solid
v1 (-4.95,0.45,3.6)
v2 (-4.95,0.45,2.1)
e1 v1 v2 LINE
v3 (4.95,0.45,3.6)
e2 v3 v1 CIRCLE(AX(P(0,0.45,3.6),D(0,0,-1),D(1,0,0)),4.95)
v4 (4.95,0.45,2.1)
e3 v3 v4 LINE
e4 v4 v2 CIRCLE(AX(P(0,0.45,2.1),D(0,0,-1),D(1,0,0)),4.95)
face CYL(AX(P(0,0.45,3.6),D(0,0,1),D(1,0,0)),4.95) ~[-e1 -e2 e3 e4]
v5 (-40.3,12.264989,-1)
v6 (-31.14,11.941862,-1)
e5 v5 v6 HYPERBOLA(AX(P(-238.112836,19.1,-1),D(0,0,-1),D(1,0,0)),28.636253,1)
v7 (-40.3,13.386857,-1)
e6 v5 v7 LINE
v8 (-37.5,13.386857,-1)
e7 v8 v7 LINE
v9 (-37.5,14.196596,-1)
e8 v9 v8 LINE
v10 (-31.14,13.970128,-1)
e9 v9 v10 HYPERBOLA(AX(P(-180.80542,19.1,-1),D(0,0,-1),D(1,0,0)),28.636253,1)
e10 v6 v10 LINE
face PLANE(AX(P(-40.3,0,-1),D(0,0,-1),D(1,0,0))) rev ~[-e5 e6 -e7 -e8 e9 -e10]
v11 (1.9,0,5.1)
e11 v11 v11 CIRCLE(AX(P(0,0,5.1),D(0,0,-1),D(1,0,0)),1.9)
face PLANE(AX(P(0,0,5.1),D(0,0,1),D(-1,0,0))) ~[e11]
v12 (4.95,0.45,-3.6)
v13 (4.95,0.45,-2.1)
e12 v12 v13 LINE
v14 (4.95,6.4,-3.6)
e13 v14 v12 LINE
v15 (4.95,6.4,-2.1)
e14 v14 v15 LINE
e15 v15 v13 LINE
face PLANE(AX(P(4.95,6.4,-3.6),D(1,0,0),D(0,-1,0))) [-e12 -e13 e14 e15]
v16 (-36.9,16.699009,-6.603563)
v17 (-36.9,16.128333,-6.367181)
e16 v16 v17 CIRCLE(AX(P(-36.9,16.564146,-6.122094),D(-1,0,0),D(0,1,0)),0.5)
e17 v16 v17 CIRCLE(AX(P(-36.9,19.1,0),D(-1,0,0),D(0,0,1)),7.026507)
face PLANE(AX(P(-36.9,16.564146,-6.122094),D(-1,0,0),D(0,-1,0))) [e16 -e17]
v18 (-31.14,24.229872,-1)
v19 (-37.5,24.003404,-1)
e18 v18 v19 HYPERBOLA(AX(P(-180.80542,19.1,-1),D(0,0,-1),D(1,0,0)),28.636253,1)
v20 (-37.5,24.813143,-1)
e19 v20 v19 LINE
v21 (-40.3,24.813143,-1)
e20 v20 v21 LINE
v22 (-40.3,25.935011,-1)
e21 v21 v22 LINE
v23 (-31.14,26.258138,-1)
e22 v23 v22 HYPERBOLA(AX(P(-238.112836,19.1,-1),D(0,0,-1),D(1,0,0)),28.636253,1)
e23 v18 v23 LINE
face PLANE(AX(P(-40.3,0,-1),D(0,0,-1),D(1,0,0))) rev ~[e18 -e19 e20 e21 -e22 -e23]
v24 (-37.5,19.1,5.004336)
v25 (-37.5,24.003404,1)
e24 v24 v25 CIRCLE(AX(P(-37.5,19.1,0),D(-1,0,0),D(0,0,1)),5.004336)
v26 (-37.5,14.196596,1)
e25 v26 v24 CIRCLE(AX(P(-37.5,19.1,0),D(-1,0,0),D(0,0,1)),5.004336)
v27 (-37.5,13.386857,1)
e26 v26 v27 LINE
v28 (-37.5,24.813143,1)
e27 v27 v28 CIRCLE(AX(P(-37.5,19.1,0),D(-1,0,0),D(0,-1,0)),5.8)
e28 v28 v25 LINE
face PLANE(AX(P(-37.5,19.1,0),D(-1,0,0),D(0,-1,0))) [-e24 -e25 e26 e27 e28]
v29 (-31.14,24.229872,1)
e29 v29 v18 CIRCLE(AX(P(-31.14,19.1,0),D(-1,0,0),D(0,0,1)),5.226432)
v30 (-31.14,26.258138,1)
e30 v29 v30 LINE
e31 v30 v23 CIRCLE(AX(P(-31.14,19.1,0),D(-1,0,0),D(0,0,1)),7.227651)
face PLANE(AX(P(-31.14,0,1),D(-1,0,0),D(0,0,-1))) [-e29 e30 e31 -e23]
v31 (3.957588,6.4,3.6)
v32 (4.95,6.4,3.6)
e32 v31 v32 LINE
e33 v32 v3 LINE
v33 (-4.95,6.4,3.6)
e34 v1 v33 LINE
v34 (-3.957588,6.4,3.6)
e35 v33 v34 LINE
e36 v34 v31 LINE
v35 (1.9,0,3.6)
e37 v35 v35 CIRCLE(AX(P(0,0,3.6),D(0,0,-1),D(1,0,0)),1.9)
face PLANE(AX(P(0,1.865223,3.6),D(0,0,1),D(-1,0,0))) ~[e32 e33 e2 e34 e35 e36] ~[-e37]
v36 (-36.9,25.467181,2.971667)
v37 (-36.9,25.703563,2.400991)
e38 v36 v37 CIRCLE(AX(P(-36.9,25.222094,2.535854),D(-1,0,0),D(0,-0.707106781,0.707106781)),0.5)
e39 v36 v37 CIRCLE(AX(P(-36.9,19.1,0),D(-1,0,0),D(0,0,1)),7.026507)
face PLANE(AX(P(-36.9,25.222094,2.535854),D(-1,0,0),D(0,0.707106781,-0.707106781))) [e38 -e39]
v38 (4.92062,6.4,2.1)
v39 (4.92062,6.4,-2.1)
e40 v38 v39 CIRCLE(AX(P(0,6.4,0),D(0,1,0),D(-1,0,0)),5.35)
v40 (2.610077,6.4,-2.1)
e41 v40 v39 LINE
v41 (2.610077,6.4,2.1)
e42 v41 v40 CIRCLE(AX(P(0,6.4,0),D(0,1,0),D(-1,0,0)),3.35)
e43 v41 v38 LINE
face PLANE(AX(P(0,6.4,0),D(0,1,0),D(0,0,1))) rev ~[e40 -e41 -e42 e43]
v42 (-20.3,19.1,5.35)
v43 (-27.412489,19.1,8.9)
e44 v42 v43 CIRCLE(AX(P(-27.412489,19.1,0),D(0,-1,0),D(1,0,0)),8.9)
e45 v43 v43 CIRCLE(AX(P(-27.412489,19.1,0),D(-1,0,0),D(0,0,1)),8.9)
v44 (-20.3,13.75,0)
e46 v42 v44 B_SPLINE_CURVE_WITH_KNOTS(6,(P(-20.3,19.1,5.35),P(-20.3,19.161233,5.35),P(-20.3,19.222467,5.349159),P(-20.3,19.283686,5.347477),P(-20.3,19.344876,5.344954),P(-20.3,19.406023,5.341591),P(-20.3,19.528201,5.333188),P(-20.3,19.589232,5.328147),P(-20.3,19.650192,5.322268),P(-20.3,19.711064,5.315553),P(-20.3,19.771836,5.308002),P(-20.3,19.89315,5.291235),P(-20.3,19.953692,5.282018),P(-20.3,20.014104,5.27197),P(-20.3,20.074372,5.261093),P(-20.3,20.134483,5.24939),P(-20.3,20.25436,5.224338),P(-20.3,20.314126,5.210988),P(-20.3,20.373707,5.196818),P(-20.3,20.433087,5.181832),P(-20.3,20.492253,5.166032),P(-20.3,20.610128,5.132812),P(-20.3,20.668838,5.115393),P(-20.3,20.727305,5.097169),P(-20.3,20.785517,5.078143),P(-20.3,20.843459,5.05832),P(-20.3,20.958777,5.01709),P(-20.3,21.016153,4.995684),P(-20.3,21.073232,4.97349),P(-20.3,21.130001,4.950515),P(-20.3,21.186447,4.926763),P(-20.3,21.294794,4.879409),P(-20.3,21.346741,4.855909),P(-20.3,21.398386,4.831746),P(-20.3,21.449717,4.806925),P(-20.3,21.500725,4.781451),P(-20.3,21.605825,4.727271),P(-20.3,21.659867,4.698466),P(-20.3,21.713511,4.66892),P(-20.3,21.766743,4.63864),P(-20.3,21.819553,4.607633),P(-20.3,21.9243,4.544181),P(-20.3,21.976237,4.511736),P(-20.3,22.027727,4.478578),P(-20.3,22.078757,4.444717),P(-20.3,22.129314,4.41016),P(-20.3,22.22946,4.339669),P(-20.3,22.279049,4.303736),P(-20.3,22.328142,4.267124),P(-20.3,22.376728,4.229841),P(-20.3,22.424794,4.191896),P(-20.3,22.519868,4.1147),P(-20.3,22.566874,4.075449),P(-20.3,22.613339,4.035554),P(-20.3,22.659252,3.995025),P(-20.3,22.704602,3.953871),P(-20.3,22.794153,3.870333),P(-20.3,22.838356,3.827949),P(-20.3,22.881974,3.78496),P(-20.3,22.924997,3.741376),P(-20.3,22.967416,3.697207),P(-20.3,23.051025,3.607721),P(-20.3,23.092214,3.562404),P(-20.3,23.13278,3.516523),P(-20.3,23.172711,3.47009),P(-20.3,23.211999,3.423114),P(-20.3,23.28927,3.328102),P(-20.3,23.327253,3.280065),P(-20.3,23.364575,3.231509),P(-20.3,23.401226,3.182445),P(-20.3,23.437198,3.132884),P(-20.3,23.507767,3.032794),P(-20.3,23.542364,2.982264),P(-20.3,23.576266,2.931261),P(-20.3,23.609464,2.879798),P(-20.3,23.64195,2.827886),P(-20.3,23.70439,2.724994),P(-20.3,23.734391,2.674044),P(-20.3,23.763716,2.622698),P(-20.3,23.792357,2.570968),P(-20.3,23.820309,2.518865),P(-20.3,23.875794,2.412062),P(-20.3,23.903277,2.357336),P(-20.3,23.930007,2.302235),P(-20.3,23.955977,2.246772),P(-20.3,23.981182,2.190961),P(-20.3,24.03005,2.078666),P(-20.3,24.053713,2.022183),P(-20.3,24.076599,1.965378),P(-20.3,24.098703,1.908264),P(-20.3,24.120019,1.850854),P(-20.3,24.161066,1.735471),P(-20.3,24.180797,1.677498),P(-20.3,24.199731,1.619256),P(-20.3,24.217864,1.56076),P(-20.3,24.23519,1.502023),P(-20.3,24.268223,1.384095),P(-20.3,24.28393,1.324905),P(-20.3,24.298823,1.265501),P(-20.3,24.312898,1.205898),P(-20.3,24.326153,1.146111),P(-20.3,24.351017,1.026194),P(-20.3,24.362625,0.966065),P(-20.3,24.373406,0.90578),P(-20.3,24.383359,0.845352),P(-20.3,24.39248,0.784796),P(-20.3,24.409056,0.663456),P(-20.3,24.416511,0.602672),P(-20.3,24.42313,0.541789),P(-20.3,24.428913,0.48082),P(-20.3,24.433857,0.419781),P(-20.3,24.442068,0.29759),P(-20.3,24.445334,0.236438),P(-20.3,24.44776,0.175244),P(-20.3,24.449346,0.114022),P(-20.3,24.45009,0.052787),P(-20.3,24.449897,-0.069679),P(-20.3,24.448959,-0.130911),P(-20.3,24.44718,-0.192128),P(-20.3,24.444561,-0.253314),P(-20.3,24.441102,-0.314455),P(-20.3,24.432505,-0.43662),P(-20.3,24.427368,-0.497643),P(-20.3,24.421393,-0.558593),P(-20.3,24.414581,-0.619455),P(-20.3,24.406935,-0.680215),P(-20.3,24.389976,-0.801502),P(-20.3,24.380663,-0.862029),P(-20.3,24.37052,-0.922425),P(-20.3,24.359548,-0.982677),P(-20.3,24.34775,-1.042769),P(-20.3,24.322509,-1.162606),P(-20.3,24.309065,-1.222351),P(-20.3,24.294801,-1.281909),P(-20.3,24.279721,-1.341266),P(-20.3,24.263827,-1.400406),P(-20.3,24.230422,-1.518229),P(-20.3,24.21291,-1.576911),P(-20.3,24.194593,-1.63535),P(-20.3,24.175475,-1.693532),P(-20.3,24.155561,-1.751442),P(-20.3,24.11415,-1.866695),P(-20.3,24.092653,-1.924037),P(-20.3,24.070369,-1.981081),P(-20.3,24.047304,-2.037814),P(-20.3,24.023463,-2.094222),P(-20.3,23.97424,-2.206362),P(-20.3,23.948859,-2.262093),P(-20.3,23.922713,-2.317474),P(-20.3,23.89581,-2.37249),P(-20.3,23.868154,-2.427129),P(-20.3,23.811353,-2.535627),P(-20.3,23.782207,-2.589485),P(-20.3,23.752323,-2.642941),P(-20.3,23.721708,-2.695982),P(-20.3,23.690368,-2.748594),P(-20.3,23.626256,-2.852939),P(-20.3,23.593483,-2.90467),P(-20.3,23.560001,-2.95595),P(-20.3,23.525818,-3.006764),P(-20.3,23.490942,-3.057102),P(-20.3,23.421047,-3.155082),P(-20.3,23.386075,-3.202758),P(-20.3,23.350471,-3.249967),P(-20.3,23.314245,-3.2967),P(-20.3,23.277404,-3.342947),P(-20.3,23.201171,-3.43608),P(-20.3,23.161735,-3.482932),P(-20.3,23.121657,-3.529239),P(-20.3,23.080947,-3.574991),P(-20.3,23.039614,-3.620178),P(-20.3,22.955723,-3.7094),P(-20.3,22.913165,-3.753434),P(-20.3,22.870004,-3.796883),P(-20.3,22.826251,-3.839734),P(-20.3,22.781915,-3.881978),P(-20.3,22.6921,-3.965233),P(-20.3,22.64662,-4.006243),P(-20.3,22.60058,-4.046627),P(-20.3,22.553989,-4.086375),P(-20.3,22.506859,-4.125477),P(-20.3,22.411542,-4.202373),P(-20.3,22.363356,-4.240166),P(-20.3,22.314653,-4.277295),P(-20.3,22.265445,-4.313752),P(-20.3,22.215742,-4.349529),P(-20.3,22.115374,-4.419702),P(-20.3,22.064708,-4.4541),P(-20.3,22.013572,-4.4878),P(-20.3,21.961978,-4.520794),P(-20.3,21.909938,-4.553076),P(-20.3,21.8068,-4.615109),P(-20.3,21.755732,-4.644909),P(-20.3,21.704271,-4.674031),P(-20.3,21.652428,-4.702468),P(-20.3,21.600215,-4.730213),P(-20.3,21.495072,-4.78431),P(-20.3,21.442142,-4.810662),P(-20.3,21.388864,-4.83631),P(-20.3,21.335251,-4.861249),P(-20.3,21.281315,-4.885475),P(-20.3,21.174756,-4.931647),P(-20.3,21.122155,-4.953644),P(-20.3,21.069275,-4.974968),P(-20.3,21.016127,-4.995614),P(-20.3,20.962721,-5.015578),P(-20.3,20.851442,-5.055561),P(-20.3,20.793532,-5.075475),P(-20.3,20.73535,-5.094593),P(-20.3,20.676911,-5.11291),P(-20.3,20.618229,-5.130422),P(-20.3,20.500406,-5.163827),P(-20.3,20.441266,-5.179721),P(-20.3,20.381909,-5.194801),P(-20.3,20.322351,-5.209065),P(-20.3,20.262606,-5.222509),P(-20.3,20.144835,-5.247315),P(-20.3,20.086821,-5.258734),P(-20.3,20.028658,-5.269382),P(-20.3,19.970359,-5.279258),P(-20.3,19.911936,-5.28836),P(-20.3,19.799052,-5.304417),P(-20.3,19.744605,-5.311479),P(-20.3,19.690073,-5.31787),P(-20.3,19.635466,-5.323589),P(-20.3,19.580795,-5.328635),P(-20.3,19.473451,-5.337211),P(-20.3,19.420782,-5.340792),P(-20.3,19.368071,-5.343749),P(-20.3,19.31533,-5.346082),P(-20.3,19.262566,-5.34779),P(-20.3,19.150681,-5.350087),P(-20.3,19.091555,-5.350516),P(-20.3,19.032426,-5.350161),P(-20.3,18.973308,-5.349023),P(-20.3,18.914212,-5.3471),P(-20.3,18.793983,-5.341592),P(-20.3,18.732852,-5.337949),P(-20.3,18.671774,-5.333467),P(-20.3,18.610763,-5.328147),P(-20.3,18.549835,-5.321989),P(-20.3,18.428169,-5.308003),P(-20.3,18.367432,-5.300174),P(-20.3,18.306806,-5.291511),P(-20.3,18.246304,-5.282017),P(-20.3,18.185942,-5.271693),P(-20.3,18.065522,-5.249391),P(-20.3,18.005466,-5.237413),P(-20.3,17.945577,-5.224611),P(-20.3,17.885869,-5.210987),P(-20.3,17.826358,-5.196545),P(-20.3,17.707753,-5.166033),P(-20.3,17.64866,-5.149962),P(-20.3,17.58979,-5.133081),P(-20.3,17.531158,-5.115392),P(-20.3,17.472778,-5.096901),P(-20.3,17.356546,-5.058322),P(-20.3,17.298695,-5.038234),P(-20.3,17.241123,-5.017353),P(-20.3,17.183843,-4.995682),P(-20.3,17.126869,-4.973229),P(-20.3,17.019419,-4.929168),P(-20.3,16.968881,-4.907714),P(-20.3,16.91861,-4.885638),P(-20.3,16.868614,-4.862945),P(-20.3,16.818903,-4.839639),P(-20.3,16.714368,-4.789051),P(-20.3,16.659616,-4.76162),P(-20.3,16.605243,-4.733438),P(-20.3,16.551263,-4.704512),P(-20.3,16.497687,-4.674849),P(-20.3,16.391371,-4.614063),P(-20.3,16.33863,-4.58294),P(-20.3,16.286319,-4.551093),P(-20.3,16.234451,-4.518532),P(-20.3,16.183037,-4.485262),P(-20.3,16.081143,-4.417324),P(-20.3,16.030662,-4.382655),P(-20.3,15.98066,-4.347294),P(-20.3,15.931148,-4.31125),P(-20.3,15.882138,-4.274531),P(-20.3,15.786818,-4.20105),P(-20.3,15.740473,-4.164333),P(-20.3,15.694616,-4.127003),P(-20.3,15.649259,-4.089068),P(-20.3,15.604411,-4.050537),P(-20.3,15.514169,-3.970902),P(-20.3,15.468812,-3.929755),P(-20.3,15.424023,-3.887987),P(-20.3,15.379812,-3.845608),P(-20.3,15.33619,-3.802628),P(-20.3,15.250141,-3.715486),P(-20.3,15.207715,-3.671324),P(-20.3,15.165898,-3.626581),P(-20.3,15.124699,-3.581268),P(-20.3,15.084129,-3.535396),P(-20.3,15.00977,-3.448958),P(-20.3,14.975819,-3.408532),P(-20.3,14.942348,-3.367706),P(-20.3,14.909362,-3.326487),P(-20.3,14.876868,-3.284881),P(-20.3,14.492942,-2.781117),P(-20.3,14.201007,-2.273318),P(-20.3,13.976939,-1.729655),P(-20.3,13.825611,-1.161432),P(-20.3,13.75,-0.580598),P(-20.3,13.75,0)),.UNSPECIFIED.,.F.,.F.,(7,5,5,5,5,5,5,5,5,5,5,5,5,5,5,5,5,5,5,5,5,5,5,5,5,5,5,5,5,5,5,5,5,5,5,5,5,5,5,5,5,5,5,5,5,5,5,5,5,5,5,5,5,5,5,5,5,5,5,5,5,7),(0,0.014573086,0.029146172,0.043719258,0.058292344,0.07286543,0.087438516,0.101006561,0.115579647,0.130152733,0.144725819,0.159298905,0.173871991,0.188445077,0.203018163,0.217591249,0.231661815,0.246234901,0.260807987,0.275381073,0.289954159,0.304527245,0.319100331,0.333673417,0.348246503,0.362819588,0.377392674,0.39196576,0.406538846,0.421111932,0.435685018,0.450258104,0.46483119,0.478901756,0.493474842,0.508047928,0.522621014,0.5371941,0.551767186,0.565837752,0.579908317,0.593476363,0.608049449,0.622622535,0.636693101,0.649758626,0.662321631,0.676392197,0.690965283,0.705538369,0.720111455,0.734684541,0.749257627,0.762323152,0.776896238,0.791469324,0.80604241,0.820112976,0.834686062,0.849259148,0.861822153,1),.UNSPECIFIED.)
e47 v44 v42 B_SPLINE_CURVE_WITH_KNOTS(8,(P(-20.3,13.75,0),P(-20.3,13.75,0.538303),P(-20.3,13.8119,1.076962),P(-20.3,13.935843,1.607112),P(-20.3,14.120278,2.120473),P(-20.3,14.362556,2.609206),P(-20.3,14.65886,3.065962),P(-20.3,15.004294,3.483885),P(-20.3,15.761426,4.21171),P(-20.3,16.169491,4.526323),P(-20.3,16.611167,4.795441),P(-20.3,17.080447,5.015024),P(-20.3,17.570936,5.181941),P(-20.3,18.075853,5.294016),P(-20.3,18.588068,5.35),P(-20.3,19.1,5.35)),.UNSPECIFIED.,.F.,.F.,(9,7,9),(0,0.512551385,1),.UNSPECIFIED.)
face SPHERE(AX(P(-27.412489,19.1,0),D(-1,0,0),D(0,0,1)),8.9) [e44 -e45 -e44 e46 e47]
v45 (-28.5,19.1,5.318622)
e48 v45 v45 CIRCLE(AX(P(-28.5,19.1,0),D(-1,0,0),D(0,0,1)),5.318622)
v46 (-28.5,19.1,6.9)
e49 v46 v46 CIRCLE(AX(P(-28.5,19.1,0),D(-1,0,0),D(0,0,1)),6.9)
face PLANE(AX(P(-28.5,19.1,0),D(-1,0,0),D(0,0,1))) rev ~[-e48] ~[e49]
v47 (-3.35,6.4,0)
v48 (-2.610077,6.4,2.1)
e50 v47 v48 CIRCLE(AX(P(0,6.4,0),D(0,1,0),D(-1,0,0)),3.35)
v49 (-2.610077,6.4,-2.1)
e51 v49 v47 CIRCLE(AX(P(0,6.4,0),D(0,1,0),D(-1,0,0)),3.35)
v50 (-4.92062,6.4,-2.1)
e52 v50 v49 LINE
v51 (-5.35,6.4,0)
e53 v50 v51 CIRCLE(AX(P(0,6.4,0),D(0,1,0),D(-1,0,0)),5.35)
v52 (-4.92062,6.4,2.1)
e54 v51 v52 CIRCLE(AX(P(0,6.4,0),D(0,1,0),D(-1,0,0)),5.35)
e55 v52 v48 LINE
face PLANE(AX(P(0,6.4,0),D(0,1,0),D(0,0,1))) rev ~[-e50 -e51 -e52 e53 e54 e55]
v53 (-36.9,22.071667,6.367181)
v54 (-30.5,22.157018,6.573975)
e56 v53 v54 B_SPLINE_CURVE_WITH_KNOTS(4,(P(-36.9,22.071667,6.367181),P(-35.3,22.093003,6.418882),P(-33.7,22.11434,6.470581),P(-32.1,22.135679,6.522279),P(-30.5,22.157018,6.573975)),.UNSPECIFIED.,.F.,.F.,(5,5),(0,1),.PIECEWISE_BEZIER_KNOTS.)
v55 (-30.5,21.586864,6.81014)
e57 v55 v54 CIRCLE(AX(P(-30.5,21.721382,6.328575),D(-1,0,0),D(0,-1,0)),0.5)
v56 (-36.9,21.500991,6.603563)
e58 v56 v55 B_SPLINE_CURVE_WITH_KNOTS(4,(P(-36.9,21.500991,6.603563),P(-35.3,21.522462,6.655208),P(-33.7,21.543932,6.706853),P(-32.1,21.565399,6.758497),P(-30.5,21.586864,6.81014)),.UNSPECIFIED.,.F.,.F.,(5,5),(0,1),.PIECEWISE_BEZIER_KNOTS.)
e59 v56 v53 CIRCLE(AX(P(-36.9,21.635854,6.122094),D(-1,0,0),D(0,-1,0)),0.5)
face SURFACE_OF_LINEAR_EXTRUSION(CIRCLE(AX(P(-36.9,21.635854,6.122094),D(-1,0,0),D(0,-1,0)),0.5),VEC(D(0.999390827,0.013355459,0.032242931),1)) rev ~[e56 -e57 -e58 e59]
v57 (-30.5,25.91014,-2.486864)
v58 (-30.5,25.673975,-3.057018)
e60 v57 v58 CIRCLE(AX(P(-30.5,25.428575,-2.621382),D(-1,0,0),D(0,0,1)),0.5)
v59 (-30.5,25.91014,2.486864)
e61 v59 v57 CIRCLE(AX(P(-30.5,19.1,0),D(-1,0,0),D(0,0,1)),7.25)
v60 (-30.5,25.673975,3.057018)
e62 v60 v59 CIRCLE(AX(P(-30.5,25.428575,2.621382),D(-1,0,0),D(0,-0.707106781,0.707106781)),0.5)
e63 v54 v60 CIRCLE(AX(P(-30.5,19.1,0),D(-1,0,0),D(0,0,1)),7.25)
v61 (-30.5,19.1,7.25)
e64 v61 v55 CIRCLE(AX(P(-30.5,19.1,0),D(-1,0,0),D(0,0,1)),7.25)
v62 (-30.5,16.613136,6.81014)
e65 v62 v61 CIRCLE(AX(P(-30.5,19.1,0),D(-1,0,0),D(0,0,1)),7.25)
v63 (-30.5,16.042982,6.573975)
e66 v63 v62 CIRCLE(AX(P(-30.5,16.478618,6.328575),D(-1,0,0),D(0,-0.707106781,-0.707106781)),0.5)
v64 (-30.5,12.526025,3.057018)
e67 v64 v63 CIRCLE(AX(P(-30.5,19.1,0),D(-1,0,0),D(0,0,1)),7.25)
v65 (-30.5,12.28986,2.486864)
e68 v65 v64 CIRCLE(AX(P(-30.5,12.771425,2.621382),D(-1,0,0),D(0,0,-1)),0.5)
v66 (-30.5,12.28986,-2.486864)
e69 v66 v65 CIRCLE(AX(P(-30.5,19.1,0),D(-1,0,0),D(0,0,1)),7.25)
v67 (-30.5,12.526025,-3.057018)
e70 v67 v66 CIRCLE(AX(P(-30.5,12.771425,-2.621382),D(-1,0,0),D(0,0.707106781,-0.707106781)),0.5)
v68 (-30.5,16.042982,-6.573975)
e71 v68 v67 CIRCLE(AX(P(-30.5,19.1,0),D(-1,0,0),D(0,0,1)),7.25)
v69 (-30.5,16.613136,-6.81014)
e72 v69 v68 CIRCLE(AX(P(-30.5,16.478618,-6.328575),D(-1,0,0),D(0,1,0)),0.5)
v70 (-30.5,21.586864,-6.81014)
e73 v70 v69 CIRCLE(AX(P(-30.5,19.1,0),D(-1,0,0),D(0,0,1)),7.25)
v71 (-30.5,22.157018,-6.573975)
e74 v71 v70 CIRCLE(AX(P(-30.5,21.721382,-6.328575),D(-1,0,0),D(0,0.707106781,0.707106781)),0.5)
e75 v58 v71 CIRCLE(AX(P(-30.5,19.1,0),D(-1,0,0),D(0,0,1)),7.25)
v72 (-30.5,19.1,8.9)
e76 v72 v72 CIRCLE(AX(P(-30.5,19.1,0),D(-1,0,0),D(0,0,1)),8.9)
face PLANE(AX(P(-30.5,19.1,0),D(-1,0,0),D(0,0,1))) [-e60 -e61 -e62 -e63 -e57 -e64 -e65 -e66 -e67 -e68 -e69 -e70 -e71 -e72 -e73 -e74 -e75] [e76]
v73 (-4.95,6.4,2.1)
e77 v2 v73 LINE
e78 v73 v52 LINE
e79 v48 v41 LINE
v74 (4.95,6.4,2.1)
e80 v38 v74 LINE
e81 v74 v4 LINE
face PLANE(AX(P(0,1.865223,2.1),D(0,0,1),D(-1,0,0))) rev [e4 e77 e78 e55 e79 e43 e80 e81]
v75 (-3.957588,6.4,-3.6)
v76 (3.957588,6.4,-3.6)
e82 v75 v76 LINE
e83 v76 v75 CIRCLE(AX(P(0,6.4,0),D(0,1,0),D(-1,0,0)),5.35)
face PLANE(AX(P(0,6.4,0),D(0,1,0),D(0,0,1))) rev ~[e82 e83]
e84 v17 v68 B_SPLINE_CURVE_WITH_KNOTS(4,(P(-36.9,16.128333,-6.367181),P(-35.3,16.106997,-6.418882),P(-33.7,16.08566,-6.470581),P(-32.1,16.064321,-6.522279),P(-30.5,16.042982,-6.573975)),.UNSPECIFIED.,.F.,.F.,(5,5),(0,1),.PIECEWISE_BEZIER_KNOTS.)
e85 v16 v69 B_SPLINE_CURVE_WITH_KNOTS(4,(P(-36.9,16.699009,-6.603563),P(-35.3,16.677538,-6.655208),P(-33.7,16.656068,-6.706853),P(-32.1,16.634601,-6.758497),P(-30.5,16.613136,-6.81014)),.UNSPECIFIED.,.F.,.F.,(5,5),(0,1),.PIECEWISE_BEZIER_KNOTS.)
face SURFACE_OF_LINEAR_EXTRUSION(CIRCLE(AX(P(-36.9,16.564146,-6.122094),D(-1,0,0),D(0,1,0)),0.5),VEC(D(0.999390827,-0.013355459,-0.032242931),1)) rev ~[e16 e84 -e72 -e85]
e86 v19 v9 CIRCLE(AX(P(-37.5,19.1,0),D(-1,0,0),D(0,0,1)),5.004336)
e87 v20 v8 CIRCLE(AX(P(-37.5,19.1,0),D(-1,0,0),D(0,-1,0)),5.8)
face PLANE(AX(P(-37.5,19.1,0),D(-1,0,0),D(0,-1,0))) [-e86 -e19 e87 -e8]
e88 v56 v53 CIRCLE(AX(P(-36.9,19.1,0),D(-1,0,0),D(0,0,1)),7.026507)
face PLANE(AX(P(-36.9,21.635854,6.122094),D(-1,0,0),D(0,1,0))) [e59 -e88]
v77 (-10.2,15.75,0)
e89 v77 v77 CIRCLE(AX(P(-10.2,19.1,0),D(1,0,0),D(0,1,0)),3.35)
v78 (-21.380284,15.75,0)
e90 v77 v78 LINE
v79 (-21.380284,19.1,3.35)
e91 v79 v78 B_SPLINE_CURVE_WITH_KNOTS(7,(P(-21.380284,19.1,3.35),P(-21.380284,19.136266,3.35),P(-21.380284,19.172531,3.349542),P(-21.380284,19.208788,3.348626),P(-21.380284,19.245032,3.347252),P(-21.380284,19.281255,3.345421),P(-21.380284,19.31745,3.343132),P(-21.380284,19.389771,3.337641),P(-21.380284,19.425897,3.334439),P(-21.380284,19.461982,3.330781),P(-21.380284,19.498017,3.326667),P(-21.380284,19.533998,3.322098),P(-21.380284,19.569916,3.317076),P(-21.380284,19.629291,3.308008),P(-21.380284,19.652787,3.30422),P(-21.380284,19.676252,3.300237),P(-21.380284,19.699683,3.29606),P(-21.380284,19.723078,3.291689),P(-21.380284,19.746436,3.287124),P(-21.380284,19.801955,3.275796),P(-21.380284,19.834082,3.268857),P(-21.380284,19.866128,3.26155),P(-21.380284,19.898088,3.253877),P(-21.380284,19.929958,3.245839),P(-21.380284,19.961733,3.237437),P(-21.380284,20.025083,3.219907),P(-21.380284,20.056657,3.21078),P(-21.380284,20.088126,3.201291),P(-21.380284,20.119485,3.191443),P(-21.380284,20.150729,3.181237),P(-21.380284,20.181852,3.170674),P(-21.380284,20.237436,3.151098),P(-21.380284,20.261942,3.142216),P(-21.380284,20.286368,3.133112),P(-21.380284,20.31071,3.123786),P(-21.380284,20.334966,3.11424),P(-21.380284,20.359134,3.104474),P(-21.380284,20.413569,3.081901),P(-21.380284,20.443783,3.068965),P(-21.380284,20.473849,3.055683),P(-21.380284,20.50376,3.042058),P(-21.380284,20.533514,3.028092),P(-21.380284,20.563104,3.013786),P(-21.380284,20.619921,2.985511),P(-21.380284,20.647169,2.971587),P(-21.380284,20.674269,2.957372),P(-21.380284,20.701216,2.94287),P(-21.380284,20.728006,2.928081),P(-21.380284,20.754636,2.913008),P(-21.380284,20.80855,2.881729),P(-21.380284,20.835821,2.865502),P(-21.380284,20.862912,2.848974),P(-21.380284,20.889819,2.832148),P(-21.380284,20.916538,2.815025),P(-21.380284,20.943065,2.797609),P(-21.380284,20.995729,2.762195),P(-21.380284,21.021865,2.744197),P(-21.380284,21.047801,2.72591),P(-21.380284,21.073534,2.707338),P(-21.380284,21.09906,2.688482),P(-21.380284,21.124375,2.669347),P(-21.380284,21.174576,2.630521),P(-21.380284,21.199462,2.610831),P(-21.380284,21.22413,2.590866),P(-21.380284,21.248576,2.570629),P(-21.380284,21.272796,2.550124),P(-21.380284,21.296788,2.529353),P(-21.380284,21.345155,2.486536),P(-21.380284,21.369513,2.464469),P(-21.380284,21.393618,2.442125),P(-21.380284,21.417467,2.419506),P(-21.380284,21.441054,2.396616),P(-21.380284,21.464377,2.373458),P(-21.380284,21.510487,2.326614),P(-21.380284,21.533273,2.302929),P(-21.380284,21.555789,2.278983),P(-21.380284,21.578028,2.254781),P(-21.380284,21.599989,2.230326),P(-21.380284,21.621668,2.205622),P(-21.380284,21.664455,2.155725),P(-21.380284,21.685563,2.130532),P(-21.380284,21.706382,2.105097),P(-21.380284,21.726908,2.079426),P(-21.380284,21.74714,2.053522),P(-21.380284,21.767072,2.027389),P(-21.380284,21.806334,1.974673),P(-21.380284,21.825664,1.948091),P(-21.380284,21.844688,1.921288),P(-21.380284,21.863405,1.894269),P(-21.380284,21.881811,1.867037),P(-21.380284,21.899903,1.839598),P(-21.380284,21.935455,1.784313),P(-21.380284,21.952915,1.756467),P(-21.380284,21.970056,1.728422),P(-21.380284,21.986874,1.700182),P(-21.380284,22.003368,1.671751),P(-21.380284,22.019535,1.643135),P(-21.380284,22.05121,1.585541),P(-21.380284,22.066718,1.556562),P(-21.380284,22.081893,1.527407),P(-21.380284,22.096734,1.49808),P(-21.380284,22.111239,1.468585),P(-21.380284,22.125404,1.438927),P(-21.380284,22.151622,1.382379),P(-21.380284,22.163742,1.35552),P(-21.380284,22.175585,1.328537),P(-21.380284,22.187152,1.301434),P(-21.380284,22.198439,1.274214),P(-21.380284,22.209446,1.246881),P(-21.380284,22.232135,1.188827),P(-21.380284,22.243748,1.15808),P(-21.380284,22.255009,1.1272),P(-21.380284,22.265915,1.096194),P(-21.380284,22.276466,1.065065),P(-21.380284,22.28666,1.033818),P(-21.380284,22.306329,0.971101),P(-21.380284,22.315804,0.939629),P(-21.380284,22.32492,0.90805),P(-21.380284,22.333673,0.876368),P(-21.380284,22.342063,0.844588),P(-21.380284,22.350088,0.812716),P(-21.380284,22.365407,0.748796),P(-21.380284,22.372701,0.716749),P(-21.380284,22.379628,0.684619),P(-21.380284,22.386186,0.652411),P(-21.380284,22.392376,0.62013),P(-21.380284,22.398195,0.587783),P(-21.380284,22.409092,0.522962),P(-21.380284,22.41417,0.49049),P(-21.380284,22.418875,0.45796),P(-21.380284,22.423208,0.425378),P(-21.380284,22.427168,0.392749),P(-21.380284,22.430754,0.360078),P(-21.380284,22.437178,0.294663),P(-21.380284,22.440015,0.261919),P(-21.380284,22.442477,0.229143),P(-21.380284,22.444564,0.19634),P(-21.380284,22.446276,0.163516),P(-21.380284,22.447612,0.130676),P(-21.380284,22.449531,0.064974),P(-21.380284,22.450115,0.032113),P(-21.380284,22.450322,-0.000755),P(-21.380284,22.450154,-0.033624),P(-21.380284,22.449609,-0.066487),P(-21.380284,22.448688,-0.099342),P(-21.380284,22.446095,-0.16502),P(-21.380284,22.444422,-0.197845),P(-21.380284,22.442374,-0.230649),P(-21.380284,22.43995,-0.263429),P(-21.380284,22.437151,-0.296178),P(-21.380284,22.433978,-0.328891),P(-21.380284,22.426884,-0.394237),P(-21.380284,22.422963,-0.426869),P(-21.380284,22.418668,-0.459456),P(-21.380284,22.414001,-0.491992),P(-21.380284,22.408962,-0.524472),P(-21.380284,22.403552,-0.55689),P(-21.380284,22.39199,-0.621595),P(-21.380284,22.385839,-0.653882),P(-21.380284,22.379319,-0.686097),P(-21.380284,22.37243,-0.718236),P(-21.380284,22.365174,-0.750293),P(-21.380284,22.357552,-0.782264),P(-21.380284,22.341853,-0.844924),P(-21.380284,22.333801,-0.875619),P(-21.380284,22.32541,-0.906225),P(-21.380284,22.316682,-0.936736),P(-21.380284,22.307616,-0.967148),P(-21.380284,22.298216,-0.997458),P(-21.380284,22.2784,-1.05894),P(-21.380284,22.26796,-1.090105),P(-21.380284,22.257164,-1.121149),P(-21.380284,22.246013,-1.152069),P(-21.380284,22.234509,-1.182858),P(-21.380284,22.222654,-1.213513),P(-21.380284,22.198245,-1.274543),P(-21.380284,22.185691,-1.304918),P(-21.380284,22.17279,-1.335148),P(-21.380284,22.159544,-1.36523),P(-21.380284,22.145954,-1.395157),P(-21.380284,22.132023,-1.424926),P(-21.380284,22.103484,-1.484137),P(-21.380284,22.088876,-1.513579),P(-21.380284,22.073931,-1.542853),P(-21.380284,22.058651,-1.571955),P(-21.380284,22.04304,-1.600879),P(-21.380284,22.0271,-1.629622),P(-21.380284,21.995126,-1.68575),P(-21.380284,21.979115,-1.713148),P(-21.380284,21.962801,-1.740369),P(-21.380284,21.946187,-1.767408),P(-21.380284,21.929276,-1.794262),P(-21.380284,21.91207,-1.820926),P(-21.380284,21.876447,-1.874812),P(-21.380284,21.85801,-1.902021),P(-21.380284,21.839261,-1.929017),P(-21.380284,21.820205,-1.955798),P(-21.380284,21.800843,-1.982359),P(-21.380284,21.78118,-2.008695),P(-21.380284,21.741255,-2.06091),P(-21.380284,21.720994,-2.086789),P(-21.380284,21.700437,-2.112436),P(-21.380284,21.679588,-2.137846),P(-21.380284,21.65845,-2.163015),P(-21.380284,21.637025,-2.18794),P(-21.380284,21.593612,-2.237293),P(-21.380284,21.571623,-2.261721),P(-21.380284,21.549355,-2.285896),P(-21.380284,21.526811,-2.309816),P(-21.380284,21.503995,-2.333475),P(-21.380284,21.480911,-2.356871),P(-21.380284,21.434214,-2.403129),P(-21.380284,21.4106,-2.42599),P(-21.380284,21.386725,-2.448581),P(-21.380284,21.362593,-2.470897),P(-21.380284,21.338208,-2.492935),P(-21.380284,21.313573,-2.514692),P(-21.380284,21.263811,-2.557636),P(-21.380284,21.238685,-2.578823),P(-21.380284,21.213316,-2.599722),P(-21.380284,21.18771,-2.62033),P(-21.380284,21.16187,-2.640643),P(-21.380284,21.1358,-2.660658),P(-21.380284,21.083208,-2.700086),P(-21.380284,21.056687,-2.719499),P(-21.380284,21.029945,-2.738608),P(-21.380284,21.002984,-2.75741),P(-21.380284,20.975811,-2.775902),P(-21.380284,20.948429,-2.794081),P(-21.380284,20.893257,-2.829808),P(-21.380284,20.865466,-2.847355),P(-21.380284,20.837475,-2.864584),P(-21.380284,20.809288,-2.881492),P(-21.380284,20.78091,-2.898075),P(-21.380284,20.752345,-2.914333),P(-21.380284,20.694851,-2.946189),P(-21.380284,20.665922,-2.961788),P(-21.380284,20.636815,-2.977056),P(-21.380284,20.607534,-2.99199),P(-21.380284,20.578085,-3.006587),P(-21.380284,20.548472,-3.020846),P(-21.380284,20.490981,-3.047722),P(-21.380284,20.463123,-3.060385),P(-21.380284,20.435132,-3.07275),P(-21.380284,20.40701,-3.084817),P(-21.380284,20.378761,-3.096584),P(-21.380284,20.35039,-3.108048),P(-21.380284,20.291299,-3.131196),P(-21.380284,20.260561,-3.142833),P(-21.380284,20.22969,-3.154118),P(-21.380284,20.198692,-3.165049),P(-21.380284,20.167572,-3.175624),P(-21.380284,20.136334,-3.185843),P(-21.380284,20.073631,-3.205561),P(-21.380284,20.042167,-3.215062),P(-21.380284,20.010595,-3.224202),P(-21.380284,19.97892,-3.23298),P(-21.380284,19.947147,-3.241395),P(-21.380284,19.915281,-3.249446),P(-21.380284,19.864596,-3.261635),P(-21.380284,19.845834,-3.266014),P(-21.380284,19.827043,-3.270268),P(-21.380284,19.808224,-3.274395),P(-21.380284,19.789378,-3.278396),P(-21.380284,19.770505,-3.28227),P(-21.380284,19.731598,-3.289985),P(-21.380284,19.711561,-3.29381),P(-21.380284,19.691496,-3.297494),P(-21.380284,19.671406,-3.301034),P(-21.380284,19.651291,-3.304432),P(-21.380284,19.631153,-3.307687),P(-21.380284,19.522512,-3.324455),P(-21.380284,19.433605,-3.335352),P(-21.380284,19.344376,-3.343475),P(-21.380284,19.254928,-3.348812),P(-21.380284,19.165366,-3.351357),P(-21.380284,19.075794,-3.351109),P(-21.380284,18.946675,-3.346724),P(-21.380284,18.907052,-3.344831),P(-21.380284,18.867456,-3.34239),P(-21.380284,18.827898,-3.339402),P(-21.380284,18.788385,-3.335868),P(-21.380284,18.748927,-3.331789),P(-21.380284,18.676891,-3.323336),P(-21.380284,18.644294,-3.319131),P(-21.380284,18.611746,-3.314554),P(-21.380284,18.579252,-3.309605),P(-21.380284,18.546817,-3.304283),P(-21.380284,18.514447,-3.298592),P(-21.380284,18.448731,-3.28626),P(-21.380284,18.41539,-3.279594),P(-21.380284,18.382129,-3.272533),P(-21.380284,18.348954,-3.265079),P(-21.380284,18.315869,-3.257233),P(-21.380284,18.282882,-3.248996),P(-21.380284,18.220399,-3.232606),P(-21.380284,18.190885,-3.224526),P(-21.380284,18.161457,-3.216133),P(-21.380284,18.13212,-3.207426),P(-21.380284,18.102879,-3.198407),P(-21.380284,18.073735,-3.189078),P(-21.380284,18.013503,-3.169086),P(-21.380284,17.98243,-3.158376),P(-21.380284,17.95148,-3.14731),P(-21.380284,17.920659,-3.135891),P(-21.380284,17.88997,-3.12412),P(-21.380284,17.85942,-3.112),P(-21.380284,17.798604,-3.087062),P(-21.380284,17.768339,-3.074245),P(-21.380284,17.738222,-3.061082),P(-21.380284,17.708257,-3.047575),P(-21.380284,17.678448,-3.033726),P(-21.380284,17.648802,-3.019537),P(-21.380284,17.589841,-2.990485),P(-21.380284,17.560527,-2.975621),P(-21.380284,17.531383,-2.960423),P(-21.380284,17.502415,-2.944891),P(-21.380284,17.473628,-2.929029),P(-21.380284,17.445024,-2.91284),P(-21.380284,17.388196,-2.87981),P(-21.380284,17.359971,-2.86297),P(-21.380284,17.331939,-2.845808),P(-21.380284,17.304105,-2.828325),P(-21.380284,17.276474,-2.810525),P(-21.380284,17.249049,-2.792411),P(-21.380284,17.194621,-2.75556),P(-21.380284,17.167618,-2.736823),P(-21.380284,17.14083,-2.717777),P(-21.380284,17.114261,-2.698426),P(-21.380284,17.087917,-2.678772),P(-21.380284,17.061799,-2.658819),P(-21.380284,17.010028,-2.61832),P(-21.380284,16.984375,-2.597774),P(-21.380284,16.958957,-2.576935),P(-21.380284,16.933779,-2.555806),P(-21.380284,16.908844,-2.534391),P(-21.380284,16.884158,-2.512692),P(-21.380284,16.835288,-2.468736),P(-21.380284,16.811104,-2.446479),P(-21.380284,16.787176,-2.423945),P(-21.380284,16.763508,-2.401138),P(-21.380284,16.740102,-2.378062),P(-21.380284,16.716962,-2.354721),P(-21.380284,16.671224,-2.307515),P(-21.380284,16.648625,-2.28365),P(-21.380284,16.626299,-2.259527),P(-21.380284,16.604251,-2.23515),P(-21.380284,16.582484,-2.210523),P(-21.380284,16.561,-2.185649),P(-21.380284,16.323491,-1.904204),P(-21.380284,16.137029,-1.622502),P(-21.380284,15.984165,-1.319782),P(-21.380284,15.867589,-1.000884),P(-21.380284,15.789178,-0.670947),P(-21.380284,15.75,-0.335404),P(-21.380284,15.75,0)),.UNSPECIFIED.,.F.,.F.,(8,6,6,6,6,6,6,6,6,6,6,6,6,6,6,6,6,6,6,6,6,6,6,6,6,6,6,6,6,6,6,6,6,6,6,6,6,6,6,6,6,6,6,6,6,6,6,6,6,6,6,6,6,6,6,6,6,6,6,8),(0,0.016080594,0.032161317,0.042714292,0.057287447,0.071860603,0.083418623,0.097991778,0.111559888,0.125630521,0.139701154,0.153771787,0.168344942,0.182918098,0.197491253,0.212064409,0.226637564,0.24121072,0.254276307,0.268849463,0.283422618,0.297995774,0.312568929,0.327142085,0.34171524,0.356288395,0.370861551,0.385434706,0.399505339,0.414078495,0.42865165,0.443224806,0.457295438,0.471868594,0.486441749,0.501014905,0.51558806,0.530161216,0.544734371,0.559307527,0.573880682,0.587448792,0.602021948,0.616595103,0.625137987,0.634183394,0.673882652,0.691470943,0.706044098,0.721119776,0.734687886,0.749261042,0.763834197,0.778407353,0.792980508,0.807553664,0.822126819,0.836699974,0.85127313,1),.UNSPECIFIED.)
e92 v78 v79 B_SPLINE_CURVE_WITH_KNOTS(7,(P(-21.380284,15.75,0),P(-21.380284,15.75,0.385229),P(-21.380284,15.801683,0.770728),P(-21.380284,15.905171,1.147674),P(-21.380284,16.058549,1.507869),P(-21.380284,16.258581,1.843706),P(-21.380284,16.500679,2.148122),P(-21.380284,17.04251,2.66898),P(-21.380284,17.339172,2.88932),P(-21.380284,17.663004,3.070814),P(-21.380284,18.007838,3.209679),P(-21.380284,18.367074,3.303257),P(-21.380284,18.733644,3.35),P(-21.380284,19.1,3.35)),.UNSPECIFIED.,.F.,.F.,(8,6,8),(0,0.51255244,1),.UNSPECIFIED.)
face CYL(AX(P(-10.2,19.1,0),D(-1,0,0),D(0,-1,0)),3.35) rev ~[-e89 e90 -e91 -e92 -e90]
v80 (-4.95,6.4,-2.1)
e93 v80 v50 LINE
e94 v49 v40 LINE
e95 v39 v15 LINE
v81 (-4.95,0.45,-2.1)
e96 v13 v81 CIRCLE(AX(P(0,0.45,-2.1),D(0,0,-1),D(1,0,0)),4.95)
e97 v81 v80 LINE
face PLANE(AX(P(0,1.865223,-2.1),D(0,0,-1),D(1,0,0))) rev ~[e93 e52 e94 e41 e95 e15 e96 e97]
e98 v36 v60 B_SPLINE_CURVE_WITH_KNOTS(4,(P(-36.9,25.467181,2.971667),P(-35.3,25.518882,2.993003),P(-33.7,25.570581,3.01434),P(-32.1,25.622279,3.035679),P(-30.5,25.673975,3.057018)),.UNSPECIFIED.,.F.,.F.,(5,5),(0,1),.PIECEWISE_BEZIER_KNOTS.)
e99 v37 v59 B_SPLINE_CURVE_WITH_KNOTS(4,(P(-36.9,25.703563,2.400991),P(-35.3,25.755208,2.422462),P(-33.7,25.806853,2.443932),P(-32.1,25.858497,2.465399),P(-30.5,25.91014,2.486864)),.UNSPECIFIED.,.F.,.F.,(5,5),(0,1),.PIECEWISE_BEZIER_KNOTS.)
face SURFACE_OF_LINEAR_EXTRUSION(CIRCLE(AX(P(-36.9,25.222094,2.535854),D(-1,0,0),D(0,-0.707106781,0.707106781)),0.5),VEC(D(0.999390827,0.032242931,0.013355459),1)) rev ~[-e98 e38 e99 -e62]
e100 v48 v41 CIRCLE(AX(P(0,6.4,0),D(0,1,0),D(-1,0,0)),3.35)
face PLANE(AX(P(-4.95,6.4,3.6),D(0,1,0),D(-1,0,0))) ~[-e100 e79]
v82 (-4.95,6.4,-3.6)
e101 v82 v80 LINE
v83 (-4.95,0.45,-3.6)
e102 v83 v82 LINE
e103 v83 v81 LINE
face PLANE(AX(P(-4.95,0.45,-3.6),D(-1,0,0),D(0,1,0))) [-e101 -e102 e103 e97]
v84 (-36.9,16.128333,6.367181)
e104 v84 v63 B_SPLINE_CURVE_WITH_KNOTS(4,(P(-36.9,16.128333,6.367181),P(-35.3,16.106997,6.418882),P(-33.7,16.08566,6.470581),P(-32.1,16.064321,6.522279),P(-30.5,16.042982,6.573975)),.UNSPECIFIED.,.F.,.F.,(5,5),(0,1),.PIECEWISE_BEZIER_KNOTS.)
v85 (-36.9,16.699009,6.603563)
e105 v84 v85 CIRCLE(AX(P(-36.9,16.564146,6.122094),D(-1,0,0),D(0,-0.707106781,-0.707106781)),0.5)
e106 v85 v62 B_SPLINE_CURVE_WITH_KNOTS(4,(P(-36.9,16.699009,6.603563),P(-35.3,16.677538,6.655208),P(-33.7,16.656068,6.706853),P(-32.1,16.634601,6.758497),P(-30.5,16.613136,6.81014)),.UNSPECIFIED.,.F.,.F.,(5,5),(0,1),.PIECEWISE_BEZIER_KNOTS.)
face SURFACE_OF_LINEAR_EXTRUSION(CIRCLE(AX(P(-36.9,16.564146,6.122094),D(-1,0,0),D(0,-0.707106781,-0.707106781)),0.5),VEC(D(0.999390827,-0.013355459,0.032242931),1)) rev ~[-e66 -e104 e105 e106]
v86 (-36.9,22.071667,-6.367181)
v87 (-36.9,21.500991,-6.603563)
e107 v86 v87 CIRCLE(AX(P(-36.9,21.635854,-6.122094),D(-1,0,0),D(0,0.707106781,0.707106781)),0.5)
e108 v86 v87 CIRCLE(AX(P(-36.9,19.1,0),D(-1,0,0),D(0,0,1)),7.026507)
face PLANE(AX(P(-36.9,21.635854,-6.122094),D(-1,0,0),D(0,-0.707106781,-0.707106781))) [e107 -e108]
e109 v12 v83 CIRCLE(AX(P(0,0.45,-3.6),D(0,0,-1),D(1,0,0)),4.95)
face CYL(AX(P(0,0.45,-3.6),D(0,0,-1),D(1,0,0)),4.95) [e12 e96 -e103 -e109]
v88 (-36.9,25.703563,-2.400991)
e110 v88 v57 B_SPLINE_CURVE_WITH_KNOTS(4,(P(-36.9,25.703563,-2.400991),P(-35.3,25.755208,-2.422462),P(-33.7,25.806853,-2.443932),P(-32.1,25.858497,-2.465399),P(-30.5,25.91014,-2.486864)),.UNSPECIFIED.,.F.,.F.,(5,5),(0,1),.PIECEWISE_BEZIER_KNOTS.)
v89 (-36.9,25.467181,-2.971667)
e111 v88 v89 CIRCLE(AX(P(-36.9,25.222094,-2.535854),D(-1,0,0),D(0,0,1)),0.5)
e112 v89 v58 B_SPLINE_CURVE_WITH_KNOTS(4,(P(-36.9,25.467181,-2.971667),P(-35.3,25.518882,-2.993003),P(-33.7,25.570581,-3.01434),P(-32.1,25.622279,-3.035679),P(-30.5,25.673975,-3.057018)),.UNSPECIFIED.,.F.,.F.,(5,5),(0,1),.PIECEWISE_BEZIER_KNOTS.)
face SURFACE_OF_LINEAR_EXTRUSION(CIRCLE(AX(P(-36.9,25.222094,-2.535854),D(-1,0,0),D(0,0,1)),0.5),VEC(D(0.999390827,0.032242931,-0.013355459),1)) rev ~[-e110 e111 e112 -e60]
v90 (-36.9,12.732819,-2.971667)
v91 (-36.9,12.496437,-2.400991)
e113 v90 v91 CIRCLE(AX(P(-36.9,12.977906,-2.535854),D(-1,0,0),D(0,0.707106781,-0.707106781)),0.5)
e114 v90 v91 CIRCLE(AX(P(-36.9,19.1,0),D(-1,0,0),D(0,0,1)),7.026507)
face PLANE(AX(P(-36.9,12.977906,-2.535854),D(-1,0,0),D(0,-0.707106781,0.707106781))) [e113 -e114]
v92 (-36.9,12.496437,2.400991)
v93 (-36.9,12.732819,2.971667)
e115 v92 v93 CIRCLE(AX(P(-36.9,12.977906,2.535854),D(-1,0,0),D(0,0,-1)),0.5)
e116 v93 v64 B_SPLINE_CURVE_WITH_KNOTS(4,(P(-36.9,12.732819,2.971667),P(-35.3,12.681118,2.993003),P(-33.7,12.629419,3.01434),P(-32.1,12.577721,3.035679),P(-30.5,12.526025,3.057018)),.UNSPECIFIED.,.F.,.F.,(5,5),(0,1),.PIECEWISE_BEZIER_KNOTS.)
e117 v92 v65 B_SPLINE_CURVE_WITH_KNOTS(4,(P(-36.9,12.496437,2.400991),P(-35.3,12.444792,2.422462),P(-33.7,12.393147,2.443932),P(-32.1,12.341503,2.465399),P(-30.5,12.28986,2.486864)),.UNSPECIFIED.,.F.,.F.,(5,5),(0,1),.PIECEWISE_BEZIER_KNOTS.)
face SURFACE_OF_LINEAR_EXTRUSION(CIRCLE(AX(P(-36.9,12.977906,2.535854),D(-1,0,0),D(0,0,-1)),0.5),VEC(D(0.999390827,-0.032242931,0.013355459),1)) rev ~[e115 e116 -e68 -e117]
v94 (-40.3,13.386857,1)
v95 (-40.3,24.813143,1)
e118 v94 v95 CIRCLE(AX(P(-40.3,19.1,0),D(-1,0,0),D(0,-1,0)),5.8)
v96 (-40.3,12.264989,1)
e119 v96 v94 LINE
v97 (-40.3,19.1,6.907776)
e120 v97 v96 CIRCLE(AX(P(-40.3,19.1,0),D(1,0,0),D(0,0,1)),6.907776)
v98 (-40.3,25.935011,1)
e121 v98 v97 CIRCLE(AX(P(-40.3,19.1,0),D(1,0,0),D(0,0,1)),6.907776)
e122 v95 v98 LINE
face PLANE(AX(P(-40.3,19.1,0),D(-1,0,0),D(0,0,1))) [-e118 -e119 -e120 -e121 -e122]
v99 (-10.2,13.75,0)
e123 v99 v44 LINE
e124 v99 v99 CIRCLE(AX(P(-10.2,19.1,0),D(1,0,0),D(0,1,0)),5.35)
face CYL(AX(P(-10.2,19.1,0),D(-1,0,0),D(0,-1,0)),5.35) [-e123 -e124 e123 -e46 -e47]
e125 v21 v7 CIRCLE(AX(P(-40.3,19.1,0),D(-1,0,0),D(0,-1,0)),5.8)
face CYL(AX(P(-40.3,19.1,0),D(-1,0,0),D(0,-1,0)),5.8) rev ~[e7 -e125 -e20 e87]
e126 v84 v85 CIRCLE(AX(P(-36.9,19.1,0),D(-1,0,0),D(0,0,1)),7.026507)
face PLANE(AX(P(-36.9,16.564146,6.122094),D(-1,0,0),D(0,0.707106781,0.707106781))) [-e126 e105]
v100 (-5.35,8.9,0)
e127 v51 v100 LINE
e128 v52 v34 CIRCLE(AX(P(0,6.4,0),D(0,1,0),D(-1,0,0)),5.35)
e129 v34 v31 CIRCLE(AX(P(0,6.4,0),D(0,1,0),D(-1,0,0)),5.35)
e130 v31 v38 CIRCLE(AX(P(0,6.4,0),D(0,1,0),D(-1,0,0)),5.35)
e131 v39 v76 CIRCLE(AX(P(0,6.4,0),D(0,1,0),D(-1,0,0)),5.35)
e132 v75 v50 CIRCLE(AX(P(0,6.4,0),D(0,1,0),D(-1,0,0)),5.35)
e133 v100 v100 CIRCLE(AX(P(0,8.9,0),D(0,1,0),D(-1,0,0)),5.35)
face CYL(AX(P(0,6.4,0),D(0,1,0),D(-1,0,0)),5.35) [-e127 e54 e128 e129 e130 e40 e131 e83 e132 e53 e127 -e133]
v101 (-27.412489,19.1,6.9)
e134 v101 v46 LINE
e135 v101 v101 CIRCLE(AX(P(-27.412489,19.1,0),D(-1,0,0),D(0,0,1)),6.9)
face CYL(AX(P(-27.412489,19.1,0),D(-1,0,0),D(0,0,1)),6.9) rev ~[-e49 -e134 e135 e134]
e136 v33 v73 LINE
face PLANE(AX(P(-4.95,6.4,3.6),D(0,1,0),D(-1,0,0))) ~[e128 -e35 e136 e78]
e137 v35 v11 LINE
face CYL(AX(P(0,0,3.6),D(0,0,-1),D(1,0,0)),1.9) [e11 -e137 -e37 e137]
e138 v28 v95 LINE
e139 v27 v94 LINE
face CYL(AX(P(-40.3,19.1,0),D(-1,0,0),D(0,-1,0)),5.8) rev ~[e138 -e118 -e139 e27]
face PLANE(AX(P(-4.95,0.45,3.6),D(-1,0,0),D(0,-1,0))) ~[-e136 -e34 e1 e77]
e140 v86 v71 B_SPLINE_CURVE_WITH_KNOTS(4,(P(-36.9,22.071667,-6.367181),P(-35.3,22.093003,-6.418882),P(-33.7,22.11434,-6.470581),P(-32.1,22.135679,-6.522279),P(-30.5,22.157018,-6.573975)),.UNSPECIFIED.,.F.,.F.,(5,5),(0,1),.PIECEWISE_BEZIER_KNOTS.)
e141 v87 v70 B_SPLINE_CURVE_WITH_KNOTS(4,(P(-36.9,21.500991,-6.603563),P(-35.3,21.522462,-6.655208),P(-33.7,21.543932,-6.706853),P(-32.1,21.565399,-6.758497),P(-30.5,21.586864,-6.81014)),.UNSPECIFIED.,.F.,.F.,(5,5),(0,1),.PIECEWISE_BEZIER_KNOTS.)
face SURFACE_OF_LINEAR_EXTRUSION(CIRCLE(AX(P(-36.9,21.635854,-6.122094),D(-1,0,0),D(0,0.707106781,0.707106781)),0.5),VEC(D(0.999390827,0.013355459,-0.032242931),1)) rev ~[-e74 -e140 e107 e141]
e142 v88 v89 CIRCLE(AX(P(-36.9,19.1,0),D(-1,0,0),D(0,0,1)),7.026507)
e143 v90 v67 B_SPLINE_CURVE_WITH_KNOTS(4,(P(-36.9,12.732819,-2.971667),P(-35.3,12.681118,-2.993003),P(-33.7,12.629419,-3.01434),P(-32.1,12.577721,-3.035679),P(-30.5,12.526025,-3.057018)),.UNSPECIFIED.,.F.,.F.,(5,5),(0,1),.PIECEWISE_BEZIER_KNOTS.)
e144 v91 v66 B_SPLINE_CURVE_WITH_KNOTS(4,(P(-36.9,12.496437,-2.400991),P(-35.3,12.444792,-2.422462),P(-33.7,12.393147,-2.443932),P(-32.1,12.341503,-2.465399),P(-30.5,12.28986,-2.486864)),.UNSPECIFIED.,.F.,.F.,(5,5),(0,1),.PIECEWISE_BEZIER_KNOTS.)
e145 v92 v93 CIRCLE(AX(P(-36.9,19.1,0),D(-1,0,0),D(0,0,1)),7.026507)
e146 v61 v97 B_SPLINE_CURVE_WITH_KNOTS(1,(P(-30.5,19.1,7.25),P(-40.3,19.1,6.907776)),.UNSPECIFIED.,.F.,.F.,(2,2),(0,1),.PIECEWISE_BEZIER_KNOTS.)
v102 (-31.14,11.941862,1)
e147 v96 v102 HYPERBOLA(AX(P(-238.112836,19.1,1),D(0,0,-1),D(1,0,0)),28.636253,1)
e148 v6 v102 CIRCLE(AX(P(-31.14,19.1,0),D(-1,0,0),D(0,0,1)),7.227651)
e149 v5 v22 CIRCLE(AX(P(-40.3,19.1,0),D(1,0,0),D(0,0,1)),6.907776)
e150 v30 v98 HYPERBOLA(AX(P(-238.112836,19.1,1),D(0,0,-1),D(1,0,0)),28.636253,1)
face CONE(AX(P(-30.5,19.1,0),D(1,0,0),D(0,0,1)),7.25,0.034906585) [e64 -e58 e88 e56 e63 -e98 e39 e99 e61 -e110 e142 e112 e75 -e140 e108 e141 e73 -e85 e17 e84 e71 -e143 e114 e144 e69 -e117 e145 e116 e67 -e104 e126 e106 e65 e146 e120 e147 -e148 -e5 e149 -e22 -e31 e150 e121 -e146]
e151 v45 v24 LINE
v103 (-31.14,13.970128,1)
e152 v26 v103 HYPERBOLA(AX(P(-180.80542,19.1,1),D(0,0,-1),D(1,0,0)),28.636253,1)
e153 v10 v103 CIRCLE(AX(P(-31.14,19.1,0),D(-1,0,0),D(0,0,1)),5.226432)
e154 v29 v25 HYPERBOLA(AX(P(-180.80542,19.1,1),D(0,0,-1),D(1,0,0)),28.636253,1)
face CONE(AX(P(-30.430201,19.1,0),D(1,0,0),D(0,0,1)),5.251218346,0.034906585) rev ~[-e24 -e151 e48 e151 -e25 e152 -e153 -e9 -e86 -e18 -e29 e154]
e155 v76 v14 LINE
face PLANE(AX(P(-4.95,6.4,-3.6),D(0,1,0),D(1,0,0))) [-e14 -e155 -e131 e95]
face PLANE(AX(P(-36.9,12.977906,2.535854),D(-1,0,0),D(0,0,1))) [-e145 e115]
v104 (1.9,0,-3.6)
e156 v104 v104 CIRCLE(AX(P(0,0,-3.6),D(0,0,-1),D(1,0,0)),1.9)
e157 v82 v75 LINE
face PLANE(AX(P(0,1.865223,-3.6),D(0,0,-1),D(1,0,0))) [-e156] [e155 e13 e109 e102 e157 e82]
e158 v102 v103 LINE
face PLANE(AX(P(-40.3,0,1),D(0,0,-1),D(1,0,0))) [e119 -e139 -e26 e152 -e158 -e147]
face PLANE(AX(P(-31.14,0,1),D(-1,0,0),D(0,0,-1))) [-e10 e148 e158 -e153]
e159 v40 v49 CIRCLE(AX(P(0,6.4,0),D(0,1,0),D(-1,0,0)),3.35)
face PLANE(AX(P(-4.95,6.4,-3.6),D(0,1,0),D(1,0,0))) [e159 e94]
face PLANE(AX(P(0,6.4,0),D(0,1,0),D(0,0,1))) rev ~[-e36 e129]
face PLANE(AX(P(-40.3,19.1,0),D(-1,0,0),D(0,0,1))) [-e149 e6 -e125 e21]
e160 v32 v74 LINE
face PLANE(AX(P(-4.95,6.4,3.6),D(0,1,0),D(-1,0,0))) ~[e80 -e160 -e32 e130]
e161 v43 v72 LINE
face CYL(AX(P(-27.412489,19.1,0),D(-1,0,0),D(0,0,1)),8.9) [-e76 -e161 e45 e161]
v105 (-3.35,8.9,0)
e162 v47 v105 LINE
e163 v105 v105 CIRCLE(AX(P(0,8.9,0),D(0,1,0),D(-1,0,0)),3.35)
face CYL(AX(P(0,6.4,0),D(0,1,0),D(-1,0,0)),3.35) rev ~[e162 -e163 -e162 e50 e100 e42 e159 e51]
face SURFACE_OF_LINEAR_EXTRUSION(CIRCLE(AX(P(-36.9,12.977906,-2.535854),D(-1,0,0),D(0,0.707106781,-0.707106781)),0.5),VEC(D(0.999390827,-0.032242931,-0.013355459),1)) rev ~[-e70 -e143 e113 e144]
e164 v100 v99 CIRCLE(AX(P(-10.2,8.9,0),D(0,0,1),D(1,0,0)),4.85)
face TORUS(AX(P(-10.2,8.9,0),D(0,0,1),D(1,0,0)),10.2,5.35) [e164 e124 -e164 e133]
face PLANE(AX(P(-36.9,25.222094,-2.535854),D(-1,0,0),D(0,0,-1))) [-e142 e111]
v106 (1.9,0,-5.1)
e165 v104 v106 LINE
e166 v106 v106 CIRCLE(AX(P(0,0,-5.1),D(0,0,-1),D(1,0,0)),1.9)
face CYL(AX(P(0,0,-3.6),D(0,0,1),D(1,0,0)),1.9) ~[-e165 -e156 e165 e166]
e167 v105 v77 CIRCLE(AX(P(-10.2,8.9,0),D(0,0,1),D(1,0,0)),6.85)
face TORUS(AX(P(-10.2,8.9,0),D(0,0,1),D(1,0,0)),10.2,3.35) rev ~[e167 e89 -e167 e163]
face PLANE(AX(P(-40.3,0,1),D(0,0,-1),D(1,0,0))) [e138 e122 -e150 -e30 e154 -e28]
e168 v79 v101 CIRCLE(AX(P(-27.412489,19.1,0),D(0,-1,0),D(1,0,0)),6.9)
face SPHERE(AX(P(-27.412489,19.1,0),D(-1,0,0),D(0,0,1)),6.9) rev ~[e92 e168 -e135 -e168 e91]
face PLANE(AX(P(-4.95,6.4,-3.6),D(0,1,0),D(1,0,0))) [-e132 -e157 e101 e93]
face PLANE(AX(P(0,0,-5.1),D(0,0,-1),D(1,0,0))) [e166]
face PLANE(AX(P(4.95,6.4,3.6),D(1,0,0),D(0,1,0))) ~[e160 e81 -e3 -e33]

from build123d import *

# Parameters (mm, degrees)
SKETCH1_R           = 5.35
SKETCH4_R           = 7.25
BOSS_EXTRUDE1_DEPTH = 9.8
BOSS_EXTRUDE1_TAPER = 2
SHELL1_T            = -2
SKETCH7_R           = 0.5
CIRPATTERN1_COUNT   = 8
SKETCH8_R           = 5.8
CUT_EXTRUDE1_DEPTH  = 2.8
SKETCH9_W           = 9.16
SKETCH9_H           = 2
CUT_EXTRUDE2_DEPTH  = 50.87283838
BOSS_EXTRUDE2_DEPTH = 1.5
SKETCH11_R          = 1.9
BOSS_EXTRUDE3_DEPTH = 1.5


with BuildPart() as part:
    # Base-Sweep: sweep along a path in Sketch2
    with BuildLine(Plane.XY) as base_sweep_path:
        Line((0, 6.4), (0, 8.9))
        ThreePointArc((0, 8.9), (-2.987510832, 16.112489168), (-10.2, 19.1))
        Line((-10.2, 19.1), (-25.4, 19.1))
    # Sketch1 → Base-Sweep (sweep)
    with BuildSketch(Plane(origin=(0, 6.4, 0), x_dir=(-1, 0, 0), z_dir=(0, 1, 0))):
        Circle(SKETCH1_R)
    sweep(path=base_sweep_path.line)

    # Sketch3 → Boss-Revolve1 (revolve)
    with BuildSketch(Plane.XY, mode=Mode.PRIVATE) as boss_revolve1_sk:
        with BuildLine():
            Line((-27.412489016, 28), (-30.5, 28))
            Line((-30.5, 28), (-30.5, 19.1))
            Line((-30.5, 19.1), (-18.512489016, 19.1))
            ThreePointArc((-18.512489016, 19.1), (-21.119238663, 25.393250353), (-27.412489016, 28))
        make_face()
    revolve(boss_revolve1_sk.sketch.rotate(Axis((-36.172167942, 19.1, 0), (-1, 0, 0)), 270), axis=Axis((-36.172167942, 19.1, 0), (-1, 0, 0)))

    # Sketch4 → Boss-Extrude1 (add)
    with BuildSketch(Plane.ZY.offset(30.5)):
        with Locations((0, 19.1)):
            Circle(SKETCH4_R)
    extrude(amount=BOSS_EXTRUDE1_DEPTH, taper=BOSS_EXTRUDE1_TAPER)

    # Shell1
    shell1_openings = [part.faces().sort_by_distance(p)[0] for p in [
        (-40.3, 19.1, 0),
        (0, 6.4, 0),
    ]]
    offset(amount=SHELL1_T, openings=shell1_openings, kind=Kind.INTERSECTION)

    # Boss-Sweep1: sweep along a path in Sketch6
    with BuildLine(Plane(origin=(0, 2.79713024, 6.75286976), x_dir=(1, 0, 0), z_dir=(0, 0.38268343236509056, 0.9238795325112865))) as boss_sweep1_path:
        Line((-36.9, 24.672606146), (-30.5, 24.896099071))
    # Sketch7 → Boss-Sweep1 (sweep)
    with BuildSketch(Plane.ZY.offset(30.5)):
        with Locations((-2.621381512, 25.428574798)):
            Circle(SKETCH7_R)
    boss_sweep1 = sweep(path=boss_sweep1_path.line)

    # CirPattern1: Boss-Sweep1 ×8 about axis
    cirpattern1_axis = Axis((-36.172167942, 19.1, 0), (-1, 0, 0))
    for i in range(1, CIRPATTERN1_COUNT):
        add(boss_sweep1.rotate(cirpattern1_axis, i * 360 / CIRPATTERN1_COUNT))

    # Sketch8 → Cut-Extrude1 (cut)
    with BuildSketch(Plane.ZY.offset(40.3)):
        with Locations(Location((0, 19.1, 0), (0, 0, 270))):
            Circle(SKETCH8_R)
    extrude(amount=-CUT_EXTRUDE1_DEPTH, mode=Mode.SUBTRACT)

    # Sketch9 → Cut-Extrude2 (cut, through all)
    with BuildSketch(Plane(origin=(0, 0, 0), x_dir=(1, 0, 0), z_dir=(0, 1, 0))):
        with Locations((-35.72, 0)):
            Rectangle(SKETCH9_W, SKETCH9_H)
    extrude(amount=CUT_EXTRUDE2_DEPTH, mode=Mode.SUBTRACT)

    # Sketch10 → Boss-Extrude2 (add)
    with BuildSketch(Plane(origin=(0, 12.319, -3.6), x_dir=(1, 0, 0), z_dir=(0, 0, -1))):
        with BuildLine():
            Line((-4.95, 5.919), (4.95, 5.919))
            Line((4.95, 5.919), (4.95, 11.869))
            ThreePointArc((4.95, 11.869), (0, 16.819), (-4.95, 11.869))
            Line((-4.95, 11.869), (-4.95, 5.919))
        make_face()
    boss_extrude2 = extrude(amount=-BOSS_EXTRUDE2_DEPTH)

    # Sketch11 → Boss-Extrude3 (add)
    with BuildSketch(Plane(origin=(0, 0, -3.6), x_dir=(-1, 0, 0), z_dir=(0, 0, -1))):
        with Locations(Location((0, 0, 0), (0, 0, 180))):
            Circle(SKETCH11_R)
    boss_extrude3 = extrude(amount=BOSS_EXTRUDE3_DEPTH)

    # Mirror1: Boss-Extrude2, Boss-Extrude3 across plane
    add(boss_extrude2.mirror(Plane.XY))
    add(boss_extrude3.mirror(Plane.XY))


solid = part.part
